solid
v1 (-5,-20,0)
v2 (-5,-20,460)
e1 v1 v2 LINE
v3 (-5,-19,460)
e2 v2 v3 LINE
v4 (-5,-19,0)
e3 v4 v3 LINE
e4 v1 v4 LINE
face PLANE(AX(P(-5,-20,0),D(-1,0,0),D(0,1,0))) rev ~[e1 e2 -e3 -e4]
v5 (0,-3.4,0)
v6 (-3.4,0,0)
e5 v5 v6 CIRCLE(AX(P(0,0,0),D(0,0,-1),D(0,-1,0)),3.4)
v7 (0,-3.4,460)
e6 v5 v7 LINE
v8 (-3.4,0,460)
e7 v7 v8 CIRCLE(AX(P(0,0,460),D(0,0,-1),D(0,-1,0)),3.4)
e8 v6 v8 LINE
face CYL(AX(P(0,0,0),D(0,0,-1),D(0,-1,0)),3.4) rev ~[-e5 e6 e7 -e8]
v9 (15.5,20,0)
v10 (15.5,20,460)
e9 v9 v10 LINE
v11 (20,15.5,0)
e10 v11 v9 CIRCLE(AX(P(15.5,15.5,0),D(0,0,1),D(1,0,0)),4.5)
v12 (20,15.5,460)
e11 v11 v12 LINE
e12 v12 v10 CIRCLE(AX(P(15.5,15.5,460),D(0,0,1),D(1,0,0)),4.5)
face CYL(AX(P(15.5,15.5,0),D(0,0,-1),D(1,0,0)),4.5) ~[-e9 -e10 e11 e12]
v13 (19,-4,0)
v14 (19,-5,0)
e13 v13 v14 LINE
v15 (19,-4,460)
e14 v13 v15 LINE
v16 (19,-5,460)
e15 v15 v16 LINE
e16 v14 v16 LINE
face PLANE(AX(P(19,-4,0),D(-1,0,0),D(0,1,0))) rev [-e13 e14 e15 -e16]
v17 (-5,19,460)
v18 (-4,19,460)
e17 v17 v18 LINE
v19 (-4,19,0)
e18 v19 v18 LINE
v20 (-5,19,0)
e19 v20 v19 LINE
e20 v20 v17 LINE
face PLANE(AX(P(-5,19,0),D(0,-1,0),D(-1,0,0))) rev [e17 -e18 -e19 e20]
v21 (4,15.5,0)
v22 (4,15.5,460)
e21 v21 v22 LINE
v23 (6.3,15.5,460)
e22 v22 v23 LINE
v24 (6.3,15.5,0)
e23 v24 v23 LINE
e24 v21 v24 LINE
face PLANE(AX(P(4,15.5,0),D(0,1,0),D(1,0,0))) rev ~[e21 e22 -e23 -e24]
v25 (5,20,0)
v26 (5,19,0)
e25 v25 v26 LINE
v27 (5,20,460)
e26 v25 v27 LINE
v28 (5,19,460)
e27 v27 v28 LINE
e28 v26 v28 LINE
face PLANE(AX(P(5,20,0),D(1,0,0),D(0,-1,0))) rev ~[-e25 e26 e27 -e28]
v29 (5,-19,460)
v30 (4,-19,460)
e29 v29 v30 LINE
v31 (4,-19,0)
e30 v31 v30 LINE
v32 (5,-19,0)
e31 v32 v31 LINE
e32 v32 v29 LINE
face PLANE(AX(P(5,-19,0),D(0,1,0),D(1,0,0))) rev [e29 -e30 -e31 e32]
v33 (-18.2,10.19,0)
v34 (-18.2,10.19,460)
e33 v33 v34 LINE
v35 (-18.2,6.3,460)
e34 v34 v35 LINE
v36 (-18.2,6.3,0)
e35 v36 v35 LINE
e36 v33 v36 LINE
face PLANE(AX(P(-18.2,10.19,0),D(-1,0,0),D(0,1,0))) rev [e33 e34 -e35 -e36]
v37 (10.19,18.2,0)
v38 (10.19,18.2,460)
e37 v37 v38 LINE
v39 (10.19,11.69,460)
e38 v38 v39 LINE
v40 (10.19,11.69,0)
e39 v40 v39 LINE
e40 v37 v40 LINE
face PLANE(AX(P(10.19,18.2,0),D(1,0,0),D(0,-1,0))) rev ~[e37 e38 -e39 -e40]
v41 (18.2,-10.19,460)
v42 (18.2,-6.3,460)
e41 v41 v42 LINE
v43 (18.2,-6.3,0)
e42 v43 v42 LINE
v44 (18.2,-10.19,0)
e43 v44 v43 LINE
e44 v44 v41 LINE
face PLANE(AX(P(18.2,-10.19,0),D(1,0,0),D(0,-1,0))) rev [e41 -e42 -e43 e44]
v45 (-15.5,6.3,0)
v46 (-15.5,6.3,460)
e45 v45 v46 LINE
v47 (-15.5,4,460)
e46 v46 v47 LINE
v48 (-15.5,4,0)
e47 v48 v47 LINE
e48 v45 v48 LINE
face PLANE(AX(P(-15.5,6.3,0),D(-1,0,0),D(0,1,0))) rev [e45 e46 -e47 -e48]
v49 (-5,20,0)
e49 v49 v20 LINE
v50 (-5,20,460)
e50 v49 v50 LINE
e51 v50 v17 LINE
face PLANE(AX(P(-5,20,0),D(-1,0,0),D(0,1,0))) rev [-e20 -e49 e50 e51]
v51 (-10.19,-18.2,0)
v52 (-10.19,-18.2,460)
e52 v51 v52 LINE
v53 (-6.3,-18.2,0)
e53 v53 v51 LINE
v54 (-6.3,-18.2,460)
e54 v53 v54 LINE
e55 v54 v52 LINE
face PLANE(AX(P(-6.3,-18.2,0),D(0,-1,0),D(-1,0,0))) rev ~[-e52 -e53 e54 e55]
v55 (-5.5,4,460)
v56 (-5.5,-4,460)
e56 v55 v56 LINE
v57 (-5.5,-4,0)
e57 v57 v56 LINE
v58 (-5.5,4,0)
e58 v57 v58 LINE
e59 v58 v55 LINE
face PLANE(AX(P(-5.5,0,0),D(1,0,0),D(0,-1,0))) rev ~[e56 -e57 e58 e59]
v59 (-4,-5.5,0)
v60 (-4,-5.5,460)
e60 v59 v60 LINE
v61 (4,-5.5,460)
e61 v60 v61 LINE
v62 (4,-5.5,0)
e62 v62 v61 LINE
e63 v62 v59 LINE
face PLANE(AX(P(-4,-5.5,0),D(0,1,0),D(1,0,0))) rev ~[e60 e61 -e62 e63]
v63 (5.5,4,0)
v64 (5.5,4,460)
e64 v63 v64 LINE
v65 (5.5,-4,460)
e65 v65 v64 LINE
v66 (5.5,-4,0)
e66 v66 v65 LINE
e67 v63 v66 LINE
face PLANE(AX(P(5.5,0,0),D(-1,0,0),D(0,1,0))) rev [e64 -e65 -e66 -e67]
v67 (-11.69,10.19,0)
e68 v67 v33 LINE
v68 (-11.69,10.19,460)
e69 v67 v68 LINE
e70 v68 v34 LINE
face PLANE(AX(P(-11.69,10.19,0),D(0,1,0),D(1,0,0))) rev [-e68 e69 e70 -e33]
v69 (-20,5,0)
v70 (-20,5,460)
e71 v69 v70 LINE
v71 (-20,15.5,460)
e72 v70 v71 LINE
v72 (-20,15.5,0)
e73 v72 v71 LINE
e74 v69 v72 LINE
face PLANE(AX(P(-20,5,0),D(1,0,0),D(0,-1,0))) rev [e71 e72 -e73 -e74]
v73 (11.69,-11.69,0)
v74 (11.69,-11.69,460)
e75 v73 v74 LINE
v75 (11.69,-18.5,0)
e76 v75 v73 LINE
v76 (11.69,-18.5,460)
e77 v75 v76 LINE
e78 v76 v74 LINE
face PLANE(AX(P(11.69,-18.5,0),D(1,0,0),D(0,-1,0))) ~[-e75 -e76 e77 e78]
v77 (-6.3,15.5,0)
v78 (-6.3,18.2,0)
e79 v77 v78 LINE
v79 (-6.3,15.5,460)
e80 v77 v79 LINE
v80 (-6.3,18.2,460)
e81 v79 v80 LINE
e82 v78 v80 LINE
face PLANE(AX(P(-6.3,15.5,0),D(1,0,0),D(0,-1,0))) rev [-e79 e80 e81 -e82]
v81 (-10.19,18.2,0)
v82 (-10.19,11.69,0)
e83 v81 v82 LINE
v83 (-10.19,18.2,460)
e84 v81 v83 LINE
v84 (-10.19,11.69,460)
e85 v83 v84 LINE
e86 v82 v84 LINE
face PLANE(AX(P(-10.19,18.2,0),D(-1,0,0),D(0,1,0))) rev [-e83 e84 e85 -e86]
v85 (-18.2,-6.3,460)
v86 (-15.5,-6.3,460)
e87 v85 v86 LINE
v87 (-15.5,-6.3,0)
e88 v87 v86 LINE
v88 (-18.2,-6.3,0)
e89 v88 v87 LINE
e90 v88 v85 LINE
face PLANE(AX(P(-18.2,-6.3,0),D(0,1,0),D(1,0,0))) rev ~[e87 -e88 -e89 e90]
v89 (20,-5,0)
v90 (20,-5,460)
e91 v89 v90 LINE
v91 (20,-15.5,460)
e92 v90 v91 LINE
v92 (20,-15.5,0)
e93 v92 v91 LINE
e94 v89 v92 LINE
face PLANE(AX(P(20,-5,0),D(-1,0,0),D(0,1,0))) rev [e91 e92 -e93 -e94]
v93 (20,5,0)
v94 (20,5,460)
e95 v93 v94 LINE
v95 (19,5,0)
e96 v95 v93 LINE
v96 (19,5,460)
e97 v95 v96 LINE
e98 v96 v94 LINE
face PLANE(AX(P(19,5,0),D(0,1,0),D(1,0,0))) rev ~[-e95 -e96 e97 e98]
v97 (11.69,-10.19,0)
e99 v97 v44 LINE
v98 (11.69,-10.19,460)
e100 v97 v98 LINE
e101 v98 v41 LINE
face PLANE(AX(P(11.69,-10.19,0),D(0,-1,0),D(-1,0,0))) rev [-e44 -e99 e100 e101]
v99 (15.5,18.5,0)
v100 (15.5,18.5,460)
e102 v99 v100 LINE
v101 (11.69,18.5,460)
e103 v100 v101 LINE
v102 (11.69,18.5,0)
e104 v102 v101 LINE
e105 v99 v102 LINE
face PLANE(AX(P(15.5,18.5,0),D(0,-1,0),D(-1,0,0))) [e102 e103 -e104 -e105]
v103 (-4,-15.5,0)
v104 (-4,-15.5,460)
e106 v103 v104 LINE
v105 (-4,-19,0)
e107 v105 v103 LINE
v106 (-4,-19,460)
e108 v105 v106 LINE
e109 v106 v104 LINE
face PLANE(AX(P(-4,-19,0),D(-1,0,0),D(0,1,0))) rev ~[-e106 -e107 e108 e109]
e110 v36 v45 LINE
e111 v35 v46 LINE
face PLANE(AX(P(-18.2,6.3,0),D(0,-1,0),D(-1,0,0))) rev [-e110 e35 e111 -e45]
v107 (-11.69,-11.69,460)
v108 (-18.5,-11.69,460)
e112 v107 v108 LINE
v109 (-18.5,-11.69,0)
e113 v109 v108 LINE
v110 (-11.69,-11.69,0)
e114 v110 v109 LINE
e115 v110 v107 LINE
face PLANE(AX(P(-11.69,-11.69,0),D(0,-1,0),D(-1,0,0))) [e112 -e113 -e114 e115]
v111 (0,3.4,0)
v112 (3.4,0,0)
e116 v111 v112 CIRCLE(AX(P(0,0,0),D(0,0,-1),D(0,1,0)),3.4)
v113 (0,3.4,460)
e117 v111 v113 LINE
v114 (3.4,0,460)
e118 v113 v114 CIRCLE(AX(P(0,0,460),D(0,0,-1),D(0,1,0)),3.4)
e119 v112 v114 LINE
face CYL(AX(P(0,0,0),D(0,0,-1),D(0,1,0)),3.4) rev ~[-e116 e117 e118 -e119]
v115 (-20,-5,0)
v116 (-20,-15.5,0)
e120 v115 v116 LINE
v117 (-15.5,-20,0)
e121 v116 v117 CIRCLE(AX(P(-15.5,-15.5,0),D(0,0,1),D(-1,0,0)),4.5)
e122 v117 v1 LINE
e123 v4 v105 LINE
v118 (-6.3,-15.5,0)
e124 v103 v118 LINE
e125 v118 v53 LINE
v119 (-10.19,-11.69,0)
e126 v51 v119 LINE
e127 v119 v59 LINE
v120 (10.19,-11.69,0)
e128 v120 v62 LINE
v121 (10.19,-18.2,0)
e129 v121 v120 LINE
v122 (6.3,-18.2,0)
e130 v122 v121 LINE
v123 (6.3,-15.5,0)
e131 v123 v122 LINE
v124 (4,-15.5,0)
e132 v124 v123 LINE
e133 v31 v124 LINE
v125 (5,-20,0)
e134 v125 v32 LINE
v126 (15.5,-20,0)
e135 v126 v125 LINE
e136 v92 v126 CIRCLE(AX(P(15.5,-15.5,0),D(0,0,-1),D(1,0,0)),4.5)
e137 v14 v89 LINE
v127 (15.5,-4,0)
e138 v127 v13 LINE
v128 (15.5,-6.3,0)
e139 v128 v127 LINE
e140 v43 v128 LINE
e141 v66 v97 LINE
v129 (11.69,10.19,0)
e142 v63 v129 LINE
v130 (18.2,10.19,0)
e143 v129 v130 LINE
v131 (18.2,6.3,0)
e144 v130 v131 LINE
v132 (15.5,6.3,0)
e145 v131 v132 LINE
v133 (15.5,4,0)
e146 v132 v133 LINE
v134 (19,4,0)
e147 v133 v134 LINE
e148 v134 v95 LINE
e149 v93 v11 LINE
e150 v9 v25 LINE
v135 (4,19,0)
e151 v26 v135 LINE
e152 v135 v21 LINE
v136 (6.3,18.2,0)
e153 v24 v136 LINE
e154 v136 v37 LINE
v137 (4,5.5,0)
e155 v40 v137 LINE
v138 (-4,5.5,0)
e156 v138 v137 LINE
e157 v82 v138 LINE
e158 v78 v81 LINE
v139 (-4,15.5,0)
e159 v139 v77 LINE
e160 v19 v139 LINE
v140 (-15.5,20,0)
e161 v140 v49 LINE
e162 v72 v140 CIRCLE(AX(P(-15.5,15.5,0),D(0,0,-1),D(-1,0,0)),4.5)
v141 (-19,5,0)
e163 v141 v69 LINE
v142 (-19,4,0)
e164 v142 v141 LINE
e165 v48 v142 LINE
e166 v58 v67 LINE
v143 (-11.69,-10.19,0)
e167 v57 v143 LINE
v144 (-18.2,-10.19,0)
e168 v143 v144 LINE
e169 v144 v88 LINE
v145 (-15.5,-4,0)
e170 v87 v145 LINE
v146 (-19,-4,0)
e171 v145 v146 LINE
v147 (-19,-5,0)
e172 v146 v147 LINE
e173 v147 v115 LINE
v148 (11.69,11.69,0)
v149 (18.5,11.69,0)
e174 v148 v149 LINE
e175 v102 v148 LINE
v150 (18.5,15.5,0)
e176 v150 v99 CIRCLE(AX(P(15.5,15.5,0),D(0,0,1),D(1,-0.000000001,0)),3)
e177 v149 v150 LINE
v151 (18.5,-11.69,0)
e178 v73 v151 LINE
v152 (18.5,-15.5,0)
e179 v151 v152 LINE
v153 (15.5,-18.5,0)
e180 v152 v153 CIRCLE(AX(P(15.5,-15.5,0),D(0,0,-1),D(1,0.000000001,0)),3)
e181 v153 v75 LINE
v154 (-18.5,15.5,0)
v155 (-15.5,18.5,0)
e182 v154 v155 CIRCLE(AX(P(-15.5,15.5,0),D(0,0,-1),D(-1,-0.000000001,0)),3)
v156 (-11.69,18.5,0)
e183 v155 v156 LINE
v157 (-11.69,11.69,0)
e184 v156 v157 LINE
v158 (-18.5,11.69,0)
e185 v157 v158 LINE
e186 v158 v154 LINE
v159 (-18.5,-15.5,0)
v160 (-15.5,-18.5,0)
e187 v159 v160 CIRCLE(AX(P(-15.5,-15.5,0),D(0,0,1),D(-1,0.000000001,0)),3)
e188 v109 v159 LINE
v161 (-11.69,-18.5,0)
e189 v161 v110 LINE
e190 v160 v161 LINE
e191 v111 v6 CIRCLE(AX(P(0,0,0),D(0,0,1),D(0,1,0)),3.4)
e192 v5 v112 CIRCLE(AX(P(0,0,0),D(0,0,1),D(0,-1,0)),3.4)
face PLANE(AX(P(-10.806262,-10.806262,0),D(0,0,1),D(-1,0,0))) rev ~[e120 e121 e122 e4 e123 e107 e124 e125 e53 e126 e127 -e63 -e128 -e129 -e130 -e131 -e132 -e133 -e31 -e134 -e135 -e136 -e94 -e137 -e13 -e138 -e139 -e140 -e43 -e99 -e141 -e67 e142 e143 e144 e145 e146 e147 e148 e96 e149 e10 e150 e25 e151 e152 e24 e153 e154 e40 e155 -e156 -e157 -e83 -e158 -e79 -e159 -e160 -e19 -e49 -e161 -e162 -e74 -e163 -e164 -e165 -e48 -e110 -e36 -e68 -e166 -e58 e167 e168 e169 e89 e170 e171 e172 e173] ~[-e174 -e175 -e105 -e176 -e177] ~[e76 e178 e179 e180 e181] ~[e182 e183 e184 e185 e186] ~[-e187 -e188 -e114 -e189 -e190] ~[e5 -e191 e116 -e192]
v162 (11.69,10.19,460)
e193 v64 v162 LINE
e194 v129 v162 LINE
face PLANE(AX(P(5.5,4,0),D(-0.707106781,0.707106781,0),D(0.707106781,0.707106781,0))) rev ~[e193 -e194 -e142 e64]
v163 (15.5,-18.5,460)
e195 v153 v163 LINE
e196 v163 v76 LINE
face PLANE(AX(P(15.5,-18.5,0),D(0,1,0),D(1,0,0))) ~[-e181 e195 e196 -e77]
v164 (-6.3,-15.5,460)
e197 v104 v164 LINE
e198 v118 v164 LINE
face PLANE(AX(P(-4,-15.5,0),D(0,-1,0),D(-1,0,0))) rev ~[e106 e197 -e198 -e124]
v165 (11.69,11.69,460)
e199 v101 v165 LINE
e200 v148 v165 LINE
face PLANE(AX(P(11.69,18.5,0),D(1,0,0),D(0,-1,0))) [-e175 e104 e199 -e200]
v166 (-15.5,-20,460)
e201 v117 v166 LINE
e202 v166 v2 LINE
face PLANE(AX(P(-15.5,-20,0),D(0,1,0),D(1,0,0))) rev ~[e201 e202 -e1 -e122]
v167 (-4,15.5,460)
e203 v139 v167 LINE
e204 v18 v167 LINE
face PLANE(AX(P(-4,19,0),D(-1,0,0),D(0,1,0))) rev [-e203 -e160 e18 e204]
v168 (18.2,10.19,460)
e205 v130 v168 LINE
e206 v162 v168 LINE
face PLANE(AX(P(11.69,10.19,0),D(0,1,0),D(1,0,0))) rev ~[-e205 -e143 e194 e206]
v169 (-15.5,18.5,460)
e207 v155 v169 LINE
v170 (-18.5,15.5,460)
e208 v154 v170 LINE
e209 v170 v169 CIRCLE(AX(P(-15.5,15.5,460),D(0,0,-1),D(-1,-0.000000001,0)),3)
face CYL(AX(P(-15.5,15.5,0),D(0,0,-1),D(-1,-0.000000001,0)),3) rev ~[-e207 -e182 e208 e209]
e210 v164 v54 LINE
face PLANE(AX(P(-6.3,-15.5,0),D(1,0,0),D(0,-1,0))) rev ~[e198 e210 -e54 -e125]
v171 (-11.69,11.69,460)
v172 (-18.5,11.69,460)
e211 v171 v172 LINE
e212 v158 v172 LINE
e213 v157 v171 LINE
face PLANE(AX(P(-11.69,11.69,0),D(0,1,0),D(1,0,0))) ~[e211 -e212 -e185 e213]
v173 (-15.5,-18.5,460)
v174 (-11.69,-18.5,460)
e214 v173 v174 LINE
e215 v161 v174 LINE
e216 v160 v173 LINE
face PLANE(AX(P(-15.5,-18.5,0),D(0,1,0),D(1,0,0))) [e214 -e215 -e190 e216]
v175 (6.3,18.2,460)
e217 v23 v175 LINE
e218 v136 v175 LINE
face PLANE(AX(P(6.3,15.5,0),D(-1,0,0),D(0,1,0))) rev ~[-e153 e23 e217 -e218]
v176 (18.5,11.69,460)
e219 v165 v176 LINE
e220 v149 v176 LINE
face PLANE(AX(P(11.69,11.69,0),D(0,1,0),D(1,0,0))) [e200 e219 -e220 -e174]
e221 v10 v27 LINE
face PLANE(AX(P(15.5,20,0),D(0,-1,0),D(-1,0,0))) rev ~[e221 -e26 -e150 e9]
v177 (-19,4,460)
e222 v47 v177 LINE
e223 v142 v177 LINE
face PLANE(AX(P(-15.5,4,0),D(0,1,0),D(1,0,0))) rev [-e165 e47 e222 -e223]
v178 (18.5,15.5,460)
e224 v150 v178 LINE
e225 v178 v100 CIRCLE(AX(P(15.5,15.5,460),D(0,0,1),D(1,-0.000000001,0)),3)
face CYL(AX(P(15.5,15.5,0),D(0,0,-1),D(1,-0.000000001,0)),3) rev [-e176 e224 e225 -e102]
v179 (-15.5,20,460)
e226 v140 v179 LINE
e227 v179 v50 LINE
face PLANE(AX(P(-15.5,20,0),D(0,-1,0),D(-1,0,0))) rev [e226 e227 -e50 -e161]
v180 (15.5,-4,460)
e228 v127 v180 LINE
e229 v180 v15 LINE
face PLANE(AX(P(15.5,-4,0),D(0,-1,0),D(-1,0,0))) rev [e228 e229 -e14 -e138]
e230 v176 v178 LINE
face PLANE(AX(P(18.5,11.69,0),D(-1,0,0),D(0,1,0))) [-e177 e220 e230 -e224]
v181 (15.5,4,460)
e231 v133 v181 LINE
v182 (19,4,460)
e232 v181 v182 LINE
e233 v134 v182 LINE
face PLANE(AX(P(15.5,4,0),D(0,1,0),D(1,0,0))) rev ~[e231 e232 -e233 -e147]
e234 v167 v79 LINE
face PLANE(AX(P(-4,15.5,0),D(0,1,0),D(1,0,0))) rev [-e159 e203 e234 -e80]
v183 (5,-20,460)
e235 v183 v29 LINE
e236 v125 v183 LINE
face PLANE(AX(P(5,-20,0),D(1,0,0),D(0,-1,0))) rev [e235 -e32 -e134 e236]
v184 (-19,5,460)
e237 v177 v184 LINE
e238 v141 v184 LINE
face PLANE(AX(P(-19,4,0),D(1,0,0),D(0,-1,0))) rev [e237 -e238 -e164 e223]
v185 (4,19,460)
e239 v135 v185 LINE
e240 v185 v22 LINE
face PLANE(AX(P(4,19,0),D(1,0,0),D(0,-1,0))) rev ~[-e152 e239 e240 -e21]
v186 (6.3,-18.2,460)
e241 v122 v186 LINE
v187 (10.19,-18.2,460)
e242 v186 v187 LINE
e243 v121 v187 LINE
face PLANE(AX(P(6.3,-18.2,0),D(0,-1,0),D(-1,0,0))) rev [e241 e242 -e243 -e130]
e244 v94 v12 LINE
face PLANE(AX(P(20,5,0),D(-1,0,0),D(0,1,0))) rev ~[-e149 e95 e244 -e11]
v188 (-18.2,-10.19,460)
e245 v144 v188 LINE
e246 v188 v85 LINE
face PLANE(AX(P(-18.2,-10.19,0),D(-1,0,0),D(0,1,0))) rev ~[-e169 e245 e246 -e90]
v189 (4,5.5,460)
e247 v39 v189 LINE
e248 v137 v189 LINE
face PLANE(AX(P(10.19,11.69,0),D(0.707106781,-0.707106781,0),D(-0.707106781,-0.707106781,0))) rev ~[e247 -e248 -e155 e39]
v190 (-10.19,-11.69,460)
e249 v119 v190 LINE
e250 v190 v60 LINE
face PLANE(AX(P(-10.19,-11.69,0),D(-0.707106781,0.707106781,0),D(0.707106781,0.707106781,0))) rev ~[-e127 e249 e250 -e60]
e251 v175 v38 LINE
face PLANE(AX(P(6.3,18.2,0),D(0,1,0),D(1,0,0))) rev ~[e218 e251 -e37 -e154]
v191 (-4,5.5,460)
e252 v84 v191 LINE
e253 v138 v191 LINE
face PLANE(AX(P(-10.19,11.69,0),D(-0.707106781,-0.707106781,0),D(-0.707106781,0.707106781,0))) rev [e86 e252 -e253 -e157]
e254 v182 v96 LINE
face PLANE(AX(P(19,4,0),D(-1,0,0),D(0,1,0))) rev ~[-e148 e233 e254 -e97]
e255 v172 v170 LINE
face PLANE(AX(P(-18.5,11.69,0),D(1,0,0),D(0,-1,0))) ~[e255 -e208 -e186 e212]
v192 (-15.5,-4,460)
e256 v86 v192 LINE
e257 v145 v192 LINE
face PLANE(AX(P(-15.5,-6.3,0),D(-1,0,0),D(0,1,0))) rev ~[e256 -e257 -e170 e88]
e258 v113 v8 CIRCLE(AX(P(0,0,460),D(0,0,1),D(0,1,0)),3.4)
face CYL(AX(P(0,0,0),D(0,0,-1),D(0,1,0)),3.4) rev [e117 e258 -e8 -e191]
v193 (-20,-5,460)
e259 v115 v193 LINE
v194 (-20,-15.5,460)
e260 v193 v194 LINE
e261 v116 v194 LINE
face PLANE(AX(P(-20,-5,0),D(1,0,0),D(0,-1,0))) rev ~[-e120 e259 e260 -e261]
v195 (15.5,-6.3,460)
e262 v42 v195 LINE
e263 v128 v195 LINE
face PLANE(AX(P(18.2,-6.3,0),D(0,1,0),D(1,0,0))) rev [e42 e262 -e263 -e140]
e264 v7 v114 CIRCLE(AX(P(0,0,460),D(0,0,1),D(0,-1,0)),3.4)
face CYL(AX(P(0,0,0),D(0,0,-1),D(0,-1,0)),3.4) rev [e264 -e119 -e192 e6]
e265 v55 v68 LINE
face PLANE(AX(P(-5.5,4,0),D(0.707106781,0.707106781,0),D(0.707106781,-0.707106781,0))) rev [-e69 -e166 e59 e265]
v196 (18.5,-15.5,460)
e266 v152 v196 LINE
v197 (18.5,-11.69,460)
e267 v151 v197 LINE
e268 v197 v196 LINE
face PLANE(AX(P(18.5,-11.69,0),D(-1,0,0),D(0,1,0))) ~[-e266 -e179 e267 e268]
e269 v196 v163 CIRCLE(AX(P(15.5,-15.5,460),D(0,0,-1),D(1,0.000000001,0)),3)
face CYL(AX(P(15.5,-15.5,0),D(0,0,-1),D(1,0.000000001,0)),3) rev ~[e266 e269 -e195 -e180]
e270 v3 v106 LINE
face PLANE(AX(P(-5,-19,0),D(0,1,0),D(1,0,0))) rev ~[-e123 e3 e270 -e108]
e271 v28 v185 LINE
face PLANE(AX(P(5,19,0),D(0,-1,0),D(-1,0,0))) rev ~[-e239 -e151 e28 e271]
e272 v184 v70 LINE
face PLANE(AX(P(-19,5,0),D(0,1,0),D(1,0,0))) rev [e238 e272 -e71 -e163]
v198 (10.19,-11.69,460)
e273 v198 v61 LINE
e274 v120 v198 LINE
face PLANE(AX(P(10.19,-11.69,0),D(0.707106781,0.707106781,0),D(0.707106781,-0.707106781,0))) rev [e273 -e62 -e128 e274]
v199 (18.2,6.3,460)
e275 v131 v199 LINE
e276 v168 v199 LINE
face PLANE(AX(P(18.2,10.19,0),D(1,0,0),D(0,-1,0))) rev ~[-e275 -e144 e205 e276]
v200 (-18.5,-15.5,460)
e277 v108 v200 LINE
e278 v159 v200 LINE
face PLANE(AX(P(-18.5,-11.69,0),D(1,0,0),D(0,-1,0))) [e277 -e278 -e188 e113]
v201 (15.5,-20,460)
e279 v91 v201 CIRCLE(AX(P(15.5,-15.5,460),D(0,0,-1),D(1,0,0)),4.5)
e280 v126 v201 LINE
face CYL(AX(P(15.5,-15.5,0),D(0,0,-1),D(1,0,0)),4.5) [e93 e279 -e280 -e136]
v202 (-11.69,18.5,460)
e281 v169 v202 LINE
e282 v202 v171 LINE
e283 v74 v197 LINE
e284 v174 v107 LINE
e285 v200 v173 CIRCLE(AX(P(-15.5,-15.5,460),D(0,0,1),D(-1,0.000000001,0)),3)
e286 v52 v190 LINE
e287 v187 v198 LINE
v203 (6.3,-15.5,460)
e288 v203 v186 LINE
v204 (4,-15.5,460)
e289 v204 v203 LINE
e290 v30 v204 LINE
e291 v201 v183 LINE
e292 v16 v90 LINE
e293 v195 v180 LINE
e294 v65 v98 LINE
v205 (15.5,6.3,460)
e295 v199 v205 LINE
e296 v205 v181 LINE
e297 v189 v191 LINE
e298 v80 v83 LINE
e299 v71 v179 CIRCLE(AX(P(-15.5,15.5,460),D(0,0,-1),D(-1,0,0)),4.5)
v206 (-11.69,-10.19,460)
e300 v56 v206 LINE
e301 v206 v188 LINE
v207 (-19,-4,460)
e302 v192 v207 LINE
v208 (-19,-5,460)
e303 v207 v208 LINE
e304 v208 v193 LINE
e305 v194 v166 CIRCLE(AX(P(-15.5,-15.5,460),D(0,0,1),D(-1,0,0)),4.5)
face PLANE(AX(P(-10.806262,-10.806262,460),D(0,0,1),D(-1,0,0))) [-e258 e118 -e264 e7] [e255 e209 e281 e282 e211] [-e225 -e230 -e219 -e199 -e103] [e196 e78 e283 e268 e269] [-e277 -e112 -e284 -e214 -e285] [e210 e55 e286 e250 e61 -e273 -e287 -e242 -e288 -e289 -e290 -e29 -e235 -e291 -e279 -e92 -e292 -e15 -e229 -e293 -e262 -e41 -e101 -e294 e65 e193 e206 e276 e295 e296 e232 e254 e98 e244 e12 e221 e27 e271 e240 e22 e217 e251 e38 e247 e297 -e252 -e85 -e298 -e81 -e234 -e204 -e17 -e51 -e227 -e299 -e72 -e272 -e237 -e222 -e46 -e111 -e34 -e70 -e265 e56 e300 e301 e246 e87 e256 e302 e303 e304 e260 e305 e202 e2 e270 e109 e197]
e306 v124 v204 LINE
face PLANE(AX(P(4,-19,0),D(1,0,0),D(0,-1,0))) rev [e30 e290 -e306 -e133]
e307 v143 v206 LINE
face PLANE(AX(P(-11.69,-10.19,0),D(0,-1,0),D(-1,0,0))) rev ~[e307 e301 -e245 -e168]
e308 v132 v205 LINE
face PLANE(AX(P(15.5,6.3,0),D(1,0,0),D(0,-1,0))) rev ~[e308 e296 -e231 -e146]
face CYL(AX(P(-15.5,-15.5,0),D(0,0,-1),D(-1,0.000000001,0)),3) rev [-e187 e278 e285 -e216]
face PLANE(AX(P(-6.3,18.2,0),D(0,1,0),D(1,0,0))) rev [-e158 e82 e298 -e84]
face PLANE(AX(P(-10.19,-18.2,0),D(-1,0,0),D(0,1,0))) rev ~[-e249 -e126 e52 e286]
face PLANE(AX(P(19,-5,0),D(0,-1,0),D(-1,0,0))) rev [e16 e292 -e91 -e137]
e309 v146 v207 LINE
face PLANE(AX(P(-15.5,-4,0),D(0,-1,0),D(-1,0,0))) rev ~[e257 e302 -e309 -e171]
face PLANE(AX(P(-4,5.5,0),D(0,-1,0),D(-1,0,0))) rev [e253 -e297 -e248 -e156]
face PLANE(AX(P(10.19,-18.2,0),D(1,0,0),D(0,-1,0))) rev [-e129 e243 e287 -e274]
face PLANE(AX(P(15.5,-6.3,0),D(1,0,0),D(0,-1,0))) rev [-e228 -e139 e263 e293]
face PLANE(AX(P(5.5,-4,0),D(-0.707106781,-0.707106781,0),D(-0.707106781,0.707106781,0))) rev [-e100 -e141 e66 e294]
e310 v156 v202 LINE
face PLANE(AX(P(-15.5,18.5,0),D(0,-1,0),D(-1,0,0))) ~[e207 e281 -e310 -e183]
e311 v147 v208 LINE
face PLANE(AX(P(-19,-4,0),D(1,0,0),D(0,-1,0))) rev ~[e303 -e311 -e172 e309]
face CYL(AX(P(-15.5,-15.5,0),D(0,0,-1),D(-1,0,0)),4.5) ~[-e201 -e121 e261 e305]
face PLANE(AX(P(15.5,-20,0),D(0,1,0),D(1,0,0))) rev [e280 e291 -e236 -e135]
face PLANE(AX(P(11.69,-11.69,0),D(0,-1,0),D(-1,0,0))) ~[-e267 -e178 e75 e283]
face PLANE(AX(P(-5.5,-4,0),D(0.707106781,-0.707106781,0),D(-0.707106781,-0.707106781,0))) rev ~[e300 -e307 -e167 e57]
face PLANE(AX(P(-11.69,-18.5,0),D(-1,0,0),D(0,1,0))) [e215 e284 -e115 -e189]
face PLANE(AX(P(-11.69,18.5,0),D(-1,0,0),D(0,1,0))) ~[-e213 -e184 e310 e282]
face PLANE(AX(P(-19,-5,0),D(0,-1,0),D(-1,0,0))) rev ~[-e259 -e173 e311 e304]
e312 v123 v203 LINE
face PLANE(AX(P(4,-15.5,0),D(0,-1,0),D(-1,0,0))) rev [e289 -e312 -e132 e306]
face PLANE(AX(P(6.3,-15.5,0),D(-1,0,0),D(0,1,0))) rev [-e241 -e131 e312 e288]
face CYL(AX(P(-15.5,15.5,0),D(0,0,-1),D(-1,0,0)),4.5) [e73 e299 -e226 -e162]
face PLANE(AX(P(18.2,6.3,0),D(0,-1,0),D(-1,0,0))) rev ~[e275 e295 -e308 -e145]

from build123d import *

# Parameters (mm, degrees)
BOSS_EXTRUDE1_DEPTH  = 460
MIRROR3_COPY_1_DEPTH = 460
MIRROR3_COPY_2_DEPTH = 460


with BuildPart() as part:
    # Sketch1 → Boss-Extrude1 (new body)
    with BuildSketch(Plane.XY):
        with BuildLine():
            Line((3.4, 0), (5.5, 0))
            Line((5.5, 0), (5.5, 4))
            Line((5.5, 4), (11.69, 10.19))
            Line((11.69, 10.19), (18.2, 10.19))
            Line((18.2, 10.19), (18.2, 6.3))
            Line((18.2, 6.3), (15.5, 6.3))
            Line((15.5, 6.3), (15.5, 4))
            Line((15.5, 4), (19, 4))
            Line((19, 4), (19, 5))
            Line((19, 5), (20, 5))
            Line((20, 5), (20, 15.5))
            ThreePointArc((20, 15.5), (18.681980515, 18.681980515), (15.5, 20))
            Line((15.5, 20), (5, 20))
            Line((5, 20), (5, 19))
            Line((5, 19), (4, 19))
            Line((4, 19), (4, 15.5))
            Line((4, 15.5), (6.3, 15.5))
            Line((6.3, 15.5), (6.3, 18.2))
            Line((6.3, 18.2), (10.19, 18.2))
            Line((10.19, 18.2), (10.19, 11.69))
            Line((10.19, 11.69), (4, 5.5))
            Line((4, 5.5), (0, 5.5))
            Line((0, 5.5), (0, 3.4))
            ThreePointArc((0, 3.4), (2.404163056, 2.404163056), (3.4, 0))
        make_face()
        with BuildLine():
            Line((18.5, 11.69), (18.5, 15.5))
            ThreePointArc((18.5, 15.5), (17.621320344, 17.621320344), (15.5, 18.5))
            Line((15.5, 18.5), (11.69, 18.5))
            Line((11.69, 18.5), (11.69, 11.69))
            Line((11.69, 11.69), (18.5, 11.69))
        make_face(mode=Mode.SUBTRACT)
    boss_extrude1 = extrude(amount=BOSS_EXTRUDE1_DEPTH)

    # Mirror1: Boss-Extrude1 across plane
    add(boss_extrude1.mirror(Plane.ZX))

    # Mirror2: Boss-Extrude1 across plane
    add(boss_extrude1.mirror(Plane(origin=(0, 0, 0), x_dir=(0, 0, 1), z_dir=(1, 0, 0))))

    # Mirror3 copy 1 sketch → Mirror3 copy 1 (add)
    with BuildSketch(Plane(origin=(0, 0, 0), x_dir=(-1, 0, 0), z_dir=(0, 0, 1))):
        with BuildLine():
            Line((3.4, 0), (5.5, 0))
            Line((5.5, 0), (5.5, 4))
            Line((5.5, 4), (11.69, 10.19))
            Line((11.69, 10.19), (18.2, 10.19))
            Line((18.2, 10.19), (18.2, 6.3))
            Line((18.2, 6.3), (15.5, 6.3))
            Line((15.5, 6.3), (15.5, 4))
            Line((15.5, 4), (19, 4))
            Line((19, 4), (19, 5))
            Line((19, 5), (20, 5))
            Line((20, 5), (20, 15.5))
            ThreePointArc((20, 15.5), (18.681980515, 18.681980515), (15.5, 20))
            Line((15.5, 20), (5, 20))
            Line((5, 20), (5, 19))
            Line((5, 19), (4, 19))
            Line((4, 19), (4, 15.5))
            Line((4, 15.5), (6.3, 15.5))
            Line((6.3, 15.5), (6.3, 18.2))
            Line((6.3, 18.2), (10.19, 18.2))
            Line((10.19, 18.2), (10.19, 11.69))
            Line((10.19, 11.69), (4, 5.5))
            Line((4, 5.5), (0, 5.5))
            Line((0, 5.5), (0, 3.4))
            ThreePointArc((0, 3.4), (2.404163056, 2.404163056), (3.4, 0))
        make_face()
        with BuildLine():
            Line((18.5, 11.69), (18.5, 15.5))
            ThreePointArc((18.5, 15.5), (17.621320344, 17.621320344), (15.5, 18.5))
            Line((15.5, 18.5), (11.69, 18.5))
            Line((11.69, 18.5), (11.69, 11.69))
            Line((11.69, 11.69), (18.5, 11.69))
        make_face(mode=Mode.SUBTRACT)
    extrude(amount=MIRROR3_COPY_1_DEPTH)

    # Mirror3 copy 2 sketch → Mirror3 copy 2 (add)
    with BuildSketch(Plane.XY):
        with BuildLine():
            Line((3.4, 0), (5.5, 0))
            Line((5.5, 0), (5.5, -4))
            Line((5.5, -4), (11.69, -10.19))
            Line((11.69, -10.19), (18.2, -10.19))
            Line((18.2, -10.19), (18.2, -6.3))
            Line((18.2, -6.3), (15.5, -6.3))
            Line((15.5, -6.3), (15.5, -4))
            Line((15.5, -4), (19, -4))
            Line((19, -4), (19, -5))
            Line((19, -5), (20, -5))
            Line((20, -5), (20, -15.5))
            ThreePointArc((20, -15.5), (18.681980515, -18.681980515), (15.5, -20))
            Line((15.5, -20), (5, -20))
            Line((5, -20), (5, -19))
            Line((5, -19), (4, -19))
            Line((4, -19), (4, -15.5))
            Line((4, -15.5), (6.3, -15.5))
            Line((6.3, -15.5), (6.3, -18.2))
            Line((6.3, -18.2), (10.19, -18.2))
            Line((10.19, -18.2), (10.19, -11.69))
            Line((10.19, -11.69), (4, -5.5))
            Line((4, -5.5), (0, -5.5))
            Line((0, -5.5), (0, -3.4))
            ThreePointArc((0, -3.4), (2.404163056, -2.404163056), (3.4, 0))
        make_face()
        with BuildLine():
            Line((18.5, -11.69), (18.5, -15.5))
            ThreePointArc((18.5, -15.5), (17.621320344, -17.621320344), (15.5, -18.5))
            Line((15.5, -18.5), (11.69, -18.5))
            Line((11.69, -18.5), (11.69, -11.69))
            Line((11.69, -11.69), (18.5, -11.69))
        make_face(mode=Mode.SUBTRACT)
    extrude(amount=MIRROR3_COPY_2_DEPTH)


solid = part.part
